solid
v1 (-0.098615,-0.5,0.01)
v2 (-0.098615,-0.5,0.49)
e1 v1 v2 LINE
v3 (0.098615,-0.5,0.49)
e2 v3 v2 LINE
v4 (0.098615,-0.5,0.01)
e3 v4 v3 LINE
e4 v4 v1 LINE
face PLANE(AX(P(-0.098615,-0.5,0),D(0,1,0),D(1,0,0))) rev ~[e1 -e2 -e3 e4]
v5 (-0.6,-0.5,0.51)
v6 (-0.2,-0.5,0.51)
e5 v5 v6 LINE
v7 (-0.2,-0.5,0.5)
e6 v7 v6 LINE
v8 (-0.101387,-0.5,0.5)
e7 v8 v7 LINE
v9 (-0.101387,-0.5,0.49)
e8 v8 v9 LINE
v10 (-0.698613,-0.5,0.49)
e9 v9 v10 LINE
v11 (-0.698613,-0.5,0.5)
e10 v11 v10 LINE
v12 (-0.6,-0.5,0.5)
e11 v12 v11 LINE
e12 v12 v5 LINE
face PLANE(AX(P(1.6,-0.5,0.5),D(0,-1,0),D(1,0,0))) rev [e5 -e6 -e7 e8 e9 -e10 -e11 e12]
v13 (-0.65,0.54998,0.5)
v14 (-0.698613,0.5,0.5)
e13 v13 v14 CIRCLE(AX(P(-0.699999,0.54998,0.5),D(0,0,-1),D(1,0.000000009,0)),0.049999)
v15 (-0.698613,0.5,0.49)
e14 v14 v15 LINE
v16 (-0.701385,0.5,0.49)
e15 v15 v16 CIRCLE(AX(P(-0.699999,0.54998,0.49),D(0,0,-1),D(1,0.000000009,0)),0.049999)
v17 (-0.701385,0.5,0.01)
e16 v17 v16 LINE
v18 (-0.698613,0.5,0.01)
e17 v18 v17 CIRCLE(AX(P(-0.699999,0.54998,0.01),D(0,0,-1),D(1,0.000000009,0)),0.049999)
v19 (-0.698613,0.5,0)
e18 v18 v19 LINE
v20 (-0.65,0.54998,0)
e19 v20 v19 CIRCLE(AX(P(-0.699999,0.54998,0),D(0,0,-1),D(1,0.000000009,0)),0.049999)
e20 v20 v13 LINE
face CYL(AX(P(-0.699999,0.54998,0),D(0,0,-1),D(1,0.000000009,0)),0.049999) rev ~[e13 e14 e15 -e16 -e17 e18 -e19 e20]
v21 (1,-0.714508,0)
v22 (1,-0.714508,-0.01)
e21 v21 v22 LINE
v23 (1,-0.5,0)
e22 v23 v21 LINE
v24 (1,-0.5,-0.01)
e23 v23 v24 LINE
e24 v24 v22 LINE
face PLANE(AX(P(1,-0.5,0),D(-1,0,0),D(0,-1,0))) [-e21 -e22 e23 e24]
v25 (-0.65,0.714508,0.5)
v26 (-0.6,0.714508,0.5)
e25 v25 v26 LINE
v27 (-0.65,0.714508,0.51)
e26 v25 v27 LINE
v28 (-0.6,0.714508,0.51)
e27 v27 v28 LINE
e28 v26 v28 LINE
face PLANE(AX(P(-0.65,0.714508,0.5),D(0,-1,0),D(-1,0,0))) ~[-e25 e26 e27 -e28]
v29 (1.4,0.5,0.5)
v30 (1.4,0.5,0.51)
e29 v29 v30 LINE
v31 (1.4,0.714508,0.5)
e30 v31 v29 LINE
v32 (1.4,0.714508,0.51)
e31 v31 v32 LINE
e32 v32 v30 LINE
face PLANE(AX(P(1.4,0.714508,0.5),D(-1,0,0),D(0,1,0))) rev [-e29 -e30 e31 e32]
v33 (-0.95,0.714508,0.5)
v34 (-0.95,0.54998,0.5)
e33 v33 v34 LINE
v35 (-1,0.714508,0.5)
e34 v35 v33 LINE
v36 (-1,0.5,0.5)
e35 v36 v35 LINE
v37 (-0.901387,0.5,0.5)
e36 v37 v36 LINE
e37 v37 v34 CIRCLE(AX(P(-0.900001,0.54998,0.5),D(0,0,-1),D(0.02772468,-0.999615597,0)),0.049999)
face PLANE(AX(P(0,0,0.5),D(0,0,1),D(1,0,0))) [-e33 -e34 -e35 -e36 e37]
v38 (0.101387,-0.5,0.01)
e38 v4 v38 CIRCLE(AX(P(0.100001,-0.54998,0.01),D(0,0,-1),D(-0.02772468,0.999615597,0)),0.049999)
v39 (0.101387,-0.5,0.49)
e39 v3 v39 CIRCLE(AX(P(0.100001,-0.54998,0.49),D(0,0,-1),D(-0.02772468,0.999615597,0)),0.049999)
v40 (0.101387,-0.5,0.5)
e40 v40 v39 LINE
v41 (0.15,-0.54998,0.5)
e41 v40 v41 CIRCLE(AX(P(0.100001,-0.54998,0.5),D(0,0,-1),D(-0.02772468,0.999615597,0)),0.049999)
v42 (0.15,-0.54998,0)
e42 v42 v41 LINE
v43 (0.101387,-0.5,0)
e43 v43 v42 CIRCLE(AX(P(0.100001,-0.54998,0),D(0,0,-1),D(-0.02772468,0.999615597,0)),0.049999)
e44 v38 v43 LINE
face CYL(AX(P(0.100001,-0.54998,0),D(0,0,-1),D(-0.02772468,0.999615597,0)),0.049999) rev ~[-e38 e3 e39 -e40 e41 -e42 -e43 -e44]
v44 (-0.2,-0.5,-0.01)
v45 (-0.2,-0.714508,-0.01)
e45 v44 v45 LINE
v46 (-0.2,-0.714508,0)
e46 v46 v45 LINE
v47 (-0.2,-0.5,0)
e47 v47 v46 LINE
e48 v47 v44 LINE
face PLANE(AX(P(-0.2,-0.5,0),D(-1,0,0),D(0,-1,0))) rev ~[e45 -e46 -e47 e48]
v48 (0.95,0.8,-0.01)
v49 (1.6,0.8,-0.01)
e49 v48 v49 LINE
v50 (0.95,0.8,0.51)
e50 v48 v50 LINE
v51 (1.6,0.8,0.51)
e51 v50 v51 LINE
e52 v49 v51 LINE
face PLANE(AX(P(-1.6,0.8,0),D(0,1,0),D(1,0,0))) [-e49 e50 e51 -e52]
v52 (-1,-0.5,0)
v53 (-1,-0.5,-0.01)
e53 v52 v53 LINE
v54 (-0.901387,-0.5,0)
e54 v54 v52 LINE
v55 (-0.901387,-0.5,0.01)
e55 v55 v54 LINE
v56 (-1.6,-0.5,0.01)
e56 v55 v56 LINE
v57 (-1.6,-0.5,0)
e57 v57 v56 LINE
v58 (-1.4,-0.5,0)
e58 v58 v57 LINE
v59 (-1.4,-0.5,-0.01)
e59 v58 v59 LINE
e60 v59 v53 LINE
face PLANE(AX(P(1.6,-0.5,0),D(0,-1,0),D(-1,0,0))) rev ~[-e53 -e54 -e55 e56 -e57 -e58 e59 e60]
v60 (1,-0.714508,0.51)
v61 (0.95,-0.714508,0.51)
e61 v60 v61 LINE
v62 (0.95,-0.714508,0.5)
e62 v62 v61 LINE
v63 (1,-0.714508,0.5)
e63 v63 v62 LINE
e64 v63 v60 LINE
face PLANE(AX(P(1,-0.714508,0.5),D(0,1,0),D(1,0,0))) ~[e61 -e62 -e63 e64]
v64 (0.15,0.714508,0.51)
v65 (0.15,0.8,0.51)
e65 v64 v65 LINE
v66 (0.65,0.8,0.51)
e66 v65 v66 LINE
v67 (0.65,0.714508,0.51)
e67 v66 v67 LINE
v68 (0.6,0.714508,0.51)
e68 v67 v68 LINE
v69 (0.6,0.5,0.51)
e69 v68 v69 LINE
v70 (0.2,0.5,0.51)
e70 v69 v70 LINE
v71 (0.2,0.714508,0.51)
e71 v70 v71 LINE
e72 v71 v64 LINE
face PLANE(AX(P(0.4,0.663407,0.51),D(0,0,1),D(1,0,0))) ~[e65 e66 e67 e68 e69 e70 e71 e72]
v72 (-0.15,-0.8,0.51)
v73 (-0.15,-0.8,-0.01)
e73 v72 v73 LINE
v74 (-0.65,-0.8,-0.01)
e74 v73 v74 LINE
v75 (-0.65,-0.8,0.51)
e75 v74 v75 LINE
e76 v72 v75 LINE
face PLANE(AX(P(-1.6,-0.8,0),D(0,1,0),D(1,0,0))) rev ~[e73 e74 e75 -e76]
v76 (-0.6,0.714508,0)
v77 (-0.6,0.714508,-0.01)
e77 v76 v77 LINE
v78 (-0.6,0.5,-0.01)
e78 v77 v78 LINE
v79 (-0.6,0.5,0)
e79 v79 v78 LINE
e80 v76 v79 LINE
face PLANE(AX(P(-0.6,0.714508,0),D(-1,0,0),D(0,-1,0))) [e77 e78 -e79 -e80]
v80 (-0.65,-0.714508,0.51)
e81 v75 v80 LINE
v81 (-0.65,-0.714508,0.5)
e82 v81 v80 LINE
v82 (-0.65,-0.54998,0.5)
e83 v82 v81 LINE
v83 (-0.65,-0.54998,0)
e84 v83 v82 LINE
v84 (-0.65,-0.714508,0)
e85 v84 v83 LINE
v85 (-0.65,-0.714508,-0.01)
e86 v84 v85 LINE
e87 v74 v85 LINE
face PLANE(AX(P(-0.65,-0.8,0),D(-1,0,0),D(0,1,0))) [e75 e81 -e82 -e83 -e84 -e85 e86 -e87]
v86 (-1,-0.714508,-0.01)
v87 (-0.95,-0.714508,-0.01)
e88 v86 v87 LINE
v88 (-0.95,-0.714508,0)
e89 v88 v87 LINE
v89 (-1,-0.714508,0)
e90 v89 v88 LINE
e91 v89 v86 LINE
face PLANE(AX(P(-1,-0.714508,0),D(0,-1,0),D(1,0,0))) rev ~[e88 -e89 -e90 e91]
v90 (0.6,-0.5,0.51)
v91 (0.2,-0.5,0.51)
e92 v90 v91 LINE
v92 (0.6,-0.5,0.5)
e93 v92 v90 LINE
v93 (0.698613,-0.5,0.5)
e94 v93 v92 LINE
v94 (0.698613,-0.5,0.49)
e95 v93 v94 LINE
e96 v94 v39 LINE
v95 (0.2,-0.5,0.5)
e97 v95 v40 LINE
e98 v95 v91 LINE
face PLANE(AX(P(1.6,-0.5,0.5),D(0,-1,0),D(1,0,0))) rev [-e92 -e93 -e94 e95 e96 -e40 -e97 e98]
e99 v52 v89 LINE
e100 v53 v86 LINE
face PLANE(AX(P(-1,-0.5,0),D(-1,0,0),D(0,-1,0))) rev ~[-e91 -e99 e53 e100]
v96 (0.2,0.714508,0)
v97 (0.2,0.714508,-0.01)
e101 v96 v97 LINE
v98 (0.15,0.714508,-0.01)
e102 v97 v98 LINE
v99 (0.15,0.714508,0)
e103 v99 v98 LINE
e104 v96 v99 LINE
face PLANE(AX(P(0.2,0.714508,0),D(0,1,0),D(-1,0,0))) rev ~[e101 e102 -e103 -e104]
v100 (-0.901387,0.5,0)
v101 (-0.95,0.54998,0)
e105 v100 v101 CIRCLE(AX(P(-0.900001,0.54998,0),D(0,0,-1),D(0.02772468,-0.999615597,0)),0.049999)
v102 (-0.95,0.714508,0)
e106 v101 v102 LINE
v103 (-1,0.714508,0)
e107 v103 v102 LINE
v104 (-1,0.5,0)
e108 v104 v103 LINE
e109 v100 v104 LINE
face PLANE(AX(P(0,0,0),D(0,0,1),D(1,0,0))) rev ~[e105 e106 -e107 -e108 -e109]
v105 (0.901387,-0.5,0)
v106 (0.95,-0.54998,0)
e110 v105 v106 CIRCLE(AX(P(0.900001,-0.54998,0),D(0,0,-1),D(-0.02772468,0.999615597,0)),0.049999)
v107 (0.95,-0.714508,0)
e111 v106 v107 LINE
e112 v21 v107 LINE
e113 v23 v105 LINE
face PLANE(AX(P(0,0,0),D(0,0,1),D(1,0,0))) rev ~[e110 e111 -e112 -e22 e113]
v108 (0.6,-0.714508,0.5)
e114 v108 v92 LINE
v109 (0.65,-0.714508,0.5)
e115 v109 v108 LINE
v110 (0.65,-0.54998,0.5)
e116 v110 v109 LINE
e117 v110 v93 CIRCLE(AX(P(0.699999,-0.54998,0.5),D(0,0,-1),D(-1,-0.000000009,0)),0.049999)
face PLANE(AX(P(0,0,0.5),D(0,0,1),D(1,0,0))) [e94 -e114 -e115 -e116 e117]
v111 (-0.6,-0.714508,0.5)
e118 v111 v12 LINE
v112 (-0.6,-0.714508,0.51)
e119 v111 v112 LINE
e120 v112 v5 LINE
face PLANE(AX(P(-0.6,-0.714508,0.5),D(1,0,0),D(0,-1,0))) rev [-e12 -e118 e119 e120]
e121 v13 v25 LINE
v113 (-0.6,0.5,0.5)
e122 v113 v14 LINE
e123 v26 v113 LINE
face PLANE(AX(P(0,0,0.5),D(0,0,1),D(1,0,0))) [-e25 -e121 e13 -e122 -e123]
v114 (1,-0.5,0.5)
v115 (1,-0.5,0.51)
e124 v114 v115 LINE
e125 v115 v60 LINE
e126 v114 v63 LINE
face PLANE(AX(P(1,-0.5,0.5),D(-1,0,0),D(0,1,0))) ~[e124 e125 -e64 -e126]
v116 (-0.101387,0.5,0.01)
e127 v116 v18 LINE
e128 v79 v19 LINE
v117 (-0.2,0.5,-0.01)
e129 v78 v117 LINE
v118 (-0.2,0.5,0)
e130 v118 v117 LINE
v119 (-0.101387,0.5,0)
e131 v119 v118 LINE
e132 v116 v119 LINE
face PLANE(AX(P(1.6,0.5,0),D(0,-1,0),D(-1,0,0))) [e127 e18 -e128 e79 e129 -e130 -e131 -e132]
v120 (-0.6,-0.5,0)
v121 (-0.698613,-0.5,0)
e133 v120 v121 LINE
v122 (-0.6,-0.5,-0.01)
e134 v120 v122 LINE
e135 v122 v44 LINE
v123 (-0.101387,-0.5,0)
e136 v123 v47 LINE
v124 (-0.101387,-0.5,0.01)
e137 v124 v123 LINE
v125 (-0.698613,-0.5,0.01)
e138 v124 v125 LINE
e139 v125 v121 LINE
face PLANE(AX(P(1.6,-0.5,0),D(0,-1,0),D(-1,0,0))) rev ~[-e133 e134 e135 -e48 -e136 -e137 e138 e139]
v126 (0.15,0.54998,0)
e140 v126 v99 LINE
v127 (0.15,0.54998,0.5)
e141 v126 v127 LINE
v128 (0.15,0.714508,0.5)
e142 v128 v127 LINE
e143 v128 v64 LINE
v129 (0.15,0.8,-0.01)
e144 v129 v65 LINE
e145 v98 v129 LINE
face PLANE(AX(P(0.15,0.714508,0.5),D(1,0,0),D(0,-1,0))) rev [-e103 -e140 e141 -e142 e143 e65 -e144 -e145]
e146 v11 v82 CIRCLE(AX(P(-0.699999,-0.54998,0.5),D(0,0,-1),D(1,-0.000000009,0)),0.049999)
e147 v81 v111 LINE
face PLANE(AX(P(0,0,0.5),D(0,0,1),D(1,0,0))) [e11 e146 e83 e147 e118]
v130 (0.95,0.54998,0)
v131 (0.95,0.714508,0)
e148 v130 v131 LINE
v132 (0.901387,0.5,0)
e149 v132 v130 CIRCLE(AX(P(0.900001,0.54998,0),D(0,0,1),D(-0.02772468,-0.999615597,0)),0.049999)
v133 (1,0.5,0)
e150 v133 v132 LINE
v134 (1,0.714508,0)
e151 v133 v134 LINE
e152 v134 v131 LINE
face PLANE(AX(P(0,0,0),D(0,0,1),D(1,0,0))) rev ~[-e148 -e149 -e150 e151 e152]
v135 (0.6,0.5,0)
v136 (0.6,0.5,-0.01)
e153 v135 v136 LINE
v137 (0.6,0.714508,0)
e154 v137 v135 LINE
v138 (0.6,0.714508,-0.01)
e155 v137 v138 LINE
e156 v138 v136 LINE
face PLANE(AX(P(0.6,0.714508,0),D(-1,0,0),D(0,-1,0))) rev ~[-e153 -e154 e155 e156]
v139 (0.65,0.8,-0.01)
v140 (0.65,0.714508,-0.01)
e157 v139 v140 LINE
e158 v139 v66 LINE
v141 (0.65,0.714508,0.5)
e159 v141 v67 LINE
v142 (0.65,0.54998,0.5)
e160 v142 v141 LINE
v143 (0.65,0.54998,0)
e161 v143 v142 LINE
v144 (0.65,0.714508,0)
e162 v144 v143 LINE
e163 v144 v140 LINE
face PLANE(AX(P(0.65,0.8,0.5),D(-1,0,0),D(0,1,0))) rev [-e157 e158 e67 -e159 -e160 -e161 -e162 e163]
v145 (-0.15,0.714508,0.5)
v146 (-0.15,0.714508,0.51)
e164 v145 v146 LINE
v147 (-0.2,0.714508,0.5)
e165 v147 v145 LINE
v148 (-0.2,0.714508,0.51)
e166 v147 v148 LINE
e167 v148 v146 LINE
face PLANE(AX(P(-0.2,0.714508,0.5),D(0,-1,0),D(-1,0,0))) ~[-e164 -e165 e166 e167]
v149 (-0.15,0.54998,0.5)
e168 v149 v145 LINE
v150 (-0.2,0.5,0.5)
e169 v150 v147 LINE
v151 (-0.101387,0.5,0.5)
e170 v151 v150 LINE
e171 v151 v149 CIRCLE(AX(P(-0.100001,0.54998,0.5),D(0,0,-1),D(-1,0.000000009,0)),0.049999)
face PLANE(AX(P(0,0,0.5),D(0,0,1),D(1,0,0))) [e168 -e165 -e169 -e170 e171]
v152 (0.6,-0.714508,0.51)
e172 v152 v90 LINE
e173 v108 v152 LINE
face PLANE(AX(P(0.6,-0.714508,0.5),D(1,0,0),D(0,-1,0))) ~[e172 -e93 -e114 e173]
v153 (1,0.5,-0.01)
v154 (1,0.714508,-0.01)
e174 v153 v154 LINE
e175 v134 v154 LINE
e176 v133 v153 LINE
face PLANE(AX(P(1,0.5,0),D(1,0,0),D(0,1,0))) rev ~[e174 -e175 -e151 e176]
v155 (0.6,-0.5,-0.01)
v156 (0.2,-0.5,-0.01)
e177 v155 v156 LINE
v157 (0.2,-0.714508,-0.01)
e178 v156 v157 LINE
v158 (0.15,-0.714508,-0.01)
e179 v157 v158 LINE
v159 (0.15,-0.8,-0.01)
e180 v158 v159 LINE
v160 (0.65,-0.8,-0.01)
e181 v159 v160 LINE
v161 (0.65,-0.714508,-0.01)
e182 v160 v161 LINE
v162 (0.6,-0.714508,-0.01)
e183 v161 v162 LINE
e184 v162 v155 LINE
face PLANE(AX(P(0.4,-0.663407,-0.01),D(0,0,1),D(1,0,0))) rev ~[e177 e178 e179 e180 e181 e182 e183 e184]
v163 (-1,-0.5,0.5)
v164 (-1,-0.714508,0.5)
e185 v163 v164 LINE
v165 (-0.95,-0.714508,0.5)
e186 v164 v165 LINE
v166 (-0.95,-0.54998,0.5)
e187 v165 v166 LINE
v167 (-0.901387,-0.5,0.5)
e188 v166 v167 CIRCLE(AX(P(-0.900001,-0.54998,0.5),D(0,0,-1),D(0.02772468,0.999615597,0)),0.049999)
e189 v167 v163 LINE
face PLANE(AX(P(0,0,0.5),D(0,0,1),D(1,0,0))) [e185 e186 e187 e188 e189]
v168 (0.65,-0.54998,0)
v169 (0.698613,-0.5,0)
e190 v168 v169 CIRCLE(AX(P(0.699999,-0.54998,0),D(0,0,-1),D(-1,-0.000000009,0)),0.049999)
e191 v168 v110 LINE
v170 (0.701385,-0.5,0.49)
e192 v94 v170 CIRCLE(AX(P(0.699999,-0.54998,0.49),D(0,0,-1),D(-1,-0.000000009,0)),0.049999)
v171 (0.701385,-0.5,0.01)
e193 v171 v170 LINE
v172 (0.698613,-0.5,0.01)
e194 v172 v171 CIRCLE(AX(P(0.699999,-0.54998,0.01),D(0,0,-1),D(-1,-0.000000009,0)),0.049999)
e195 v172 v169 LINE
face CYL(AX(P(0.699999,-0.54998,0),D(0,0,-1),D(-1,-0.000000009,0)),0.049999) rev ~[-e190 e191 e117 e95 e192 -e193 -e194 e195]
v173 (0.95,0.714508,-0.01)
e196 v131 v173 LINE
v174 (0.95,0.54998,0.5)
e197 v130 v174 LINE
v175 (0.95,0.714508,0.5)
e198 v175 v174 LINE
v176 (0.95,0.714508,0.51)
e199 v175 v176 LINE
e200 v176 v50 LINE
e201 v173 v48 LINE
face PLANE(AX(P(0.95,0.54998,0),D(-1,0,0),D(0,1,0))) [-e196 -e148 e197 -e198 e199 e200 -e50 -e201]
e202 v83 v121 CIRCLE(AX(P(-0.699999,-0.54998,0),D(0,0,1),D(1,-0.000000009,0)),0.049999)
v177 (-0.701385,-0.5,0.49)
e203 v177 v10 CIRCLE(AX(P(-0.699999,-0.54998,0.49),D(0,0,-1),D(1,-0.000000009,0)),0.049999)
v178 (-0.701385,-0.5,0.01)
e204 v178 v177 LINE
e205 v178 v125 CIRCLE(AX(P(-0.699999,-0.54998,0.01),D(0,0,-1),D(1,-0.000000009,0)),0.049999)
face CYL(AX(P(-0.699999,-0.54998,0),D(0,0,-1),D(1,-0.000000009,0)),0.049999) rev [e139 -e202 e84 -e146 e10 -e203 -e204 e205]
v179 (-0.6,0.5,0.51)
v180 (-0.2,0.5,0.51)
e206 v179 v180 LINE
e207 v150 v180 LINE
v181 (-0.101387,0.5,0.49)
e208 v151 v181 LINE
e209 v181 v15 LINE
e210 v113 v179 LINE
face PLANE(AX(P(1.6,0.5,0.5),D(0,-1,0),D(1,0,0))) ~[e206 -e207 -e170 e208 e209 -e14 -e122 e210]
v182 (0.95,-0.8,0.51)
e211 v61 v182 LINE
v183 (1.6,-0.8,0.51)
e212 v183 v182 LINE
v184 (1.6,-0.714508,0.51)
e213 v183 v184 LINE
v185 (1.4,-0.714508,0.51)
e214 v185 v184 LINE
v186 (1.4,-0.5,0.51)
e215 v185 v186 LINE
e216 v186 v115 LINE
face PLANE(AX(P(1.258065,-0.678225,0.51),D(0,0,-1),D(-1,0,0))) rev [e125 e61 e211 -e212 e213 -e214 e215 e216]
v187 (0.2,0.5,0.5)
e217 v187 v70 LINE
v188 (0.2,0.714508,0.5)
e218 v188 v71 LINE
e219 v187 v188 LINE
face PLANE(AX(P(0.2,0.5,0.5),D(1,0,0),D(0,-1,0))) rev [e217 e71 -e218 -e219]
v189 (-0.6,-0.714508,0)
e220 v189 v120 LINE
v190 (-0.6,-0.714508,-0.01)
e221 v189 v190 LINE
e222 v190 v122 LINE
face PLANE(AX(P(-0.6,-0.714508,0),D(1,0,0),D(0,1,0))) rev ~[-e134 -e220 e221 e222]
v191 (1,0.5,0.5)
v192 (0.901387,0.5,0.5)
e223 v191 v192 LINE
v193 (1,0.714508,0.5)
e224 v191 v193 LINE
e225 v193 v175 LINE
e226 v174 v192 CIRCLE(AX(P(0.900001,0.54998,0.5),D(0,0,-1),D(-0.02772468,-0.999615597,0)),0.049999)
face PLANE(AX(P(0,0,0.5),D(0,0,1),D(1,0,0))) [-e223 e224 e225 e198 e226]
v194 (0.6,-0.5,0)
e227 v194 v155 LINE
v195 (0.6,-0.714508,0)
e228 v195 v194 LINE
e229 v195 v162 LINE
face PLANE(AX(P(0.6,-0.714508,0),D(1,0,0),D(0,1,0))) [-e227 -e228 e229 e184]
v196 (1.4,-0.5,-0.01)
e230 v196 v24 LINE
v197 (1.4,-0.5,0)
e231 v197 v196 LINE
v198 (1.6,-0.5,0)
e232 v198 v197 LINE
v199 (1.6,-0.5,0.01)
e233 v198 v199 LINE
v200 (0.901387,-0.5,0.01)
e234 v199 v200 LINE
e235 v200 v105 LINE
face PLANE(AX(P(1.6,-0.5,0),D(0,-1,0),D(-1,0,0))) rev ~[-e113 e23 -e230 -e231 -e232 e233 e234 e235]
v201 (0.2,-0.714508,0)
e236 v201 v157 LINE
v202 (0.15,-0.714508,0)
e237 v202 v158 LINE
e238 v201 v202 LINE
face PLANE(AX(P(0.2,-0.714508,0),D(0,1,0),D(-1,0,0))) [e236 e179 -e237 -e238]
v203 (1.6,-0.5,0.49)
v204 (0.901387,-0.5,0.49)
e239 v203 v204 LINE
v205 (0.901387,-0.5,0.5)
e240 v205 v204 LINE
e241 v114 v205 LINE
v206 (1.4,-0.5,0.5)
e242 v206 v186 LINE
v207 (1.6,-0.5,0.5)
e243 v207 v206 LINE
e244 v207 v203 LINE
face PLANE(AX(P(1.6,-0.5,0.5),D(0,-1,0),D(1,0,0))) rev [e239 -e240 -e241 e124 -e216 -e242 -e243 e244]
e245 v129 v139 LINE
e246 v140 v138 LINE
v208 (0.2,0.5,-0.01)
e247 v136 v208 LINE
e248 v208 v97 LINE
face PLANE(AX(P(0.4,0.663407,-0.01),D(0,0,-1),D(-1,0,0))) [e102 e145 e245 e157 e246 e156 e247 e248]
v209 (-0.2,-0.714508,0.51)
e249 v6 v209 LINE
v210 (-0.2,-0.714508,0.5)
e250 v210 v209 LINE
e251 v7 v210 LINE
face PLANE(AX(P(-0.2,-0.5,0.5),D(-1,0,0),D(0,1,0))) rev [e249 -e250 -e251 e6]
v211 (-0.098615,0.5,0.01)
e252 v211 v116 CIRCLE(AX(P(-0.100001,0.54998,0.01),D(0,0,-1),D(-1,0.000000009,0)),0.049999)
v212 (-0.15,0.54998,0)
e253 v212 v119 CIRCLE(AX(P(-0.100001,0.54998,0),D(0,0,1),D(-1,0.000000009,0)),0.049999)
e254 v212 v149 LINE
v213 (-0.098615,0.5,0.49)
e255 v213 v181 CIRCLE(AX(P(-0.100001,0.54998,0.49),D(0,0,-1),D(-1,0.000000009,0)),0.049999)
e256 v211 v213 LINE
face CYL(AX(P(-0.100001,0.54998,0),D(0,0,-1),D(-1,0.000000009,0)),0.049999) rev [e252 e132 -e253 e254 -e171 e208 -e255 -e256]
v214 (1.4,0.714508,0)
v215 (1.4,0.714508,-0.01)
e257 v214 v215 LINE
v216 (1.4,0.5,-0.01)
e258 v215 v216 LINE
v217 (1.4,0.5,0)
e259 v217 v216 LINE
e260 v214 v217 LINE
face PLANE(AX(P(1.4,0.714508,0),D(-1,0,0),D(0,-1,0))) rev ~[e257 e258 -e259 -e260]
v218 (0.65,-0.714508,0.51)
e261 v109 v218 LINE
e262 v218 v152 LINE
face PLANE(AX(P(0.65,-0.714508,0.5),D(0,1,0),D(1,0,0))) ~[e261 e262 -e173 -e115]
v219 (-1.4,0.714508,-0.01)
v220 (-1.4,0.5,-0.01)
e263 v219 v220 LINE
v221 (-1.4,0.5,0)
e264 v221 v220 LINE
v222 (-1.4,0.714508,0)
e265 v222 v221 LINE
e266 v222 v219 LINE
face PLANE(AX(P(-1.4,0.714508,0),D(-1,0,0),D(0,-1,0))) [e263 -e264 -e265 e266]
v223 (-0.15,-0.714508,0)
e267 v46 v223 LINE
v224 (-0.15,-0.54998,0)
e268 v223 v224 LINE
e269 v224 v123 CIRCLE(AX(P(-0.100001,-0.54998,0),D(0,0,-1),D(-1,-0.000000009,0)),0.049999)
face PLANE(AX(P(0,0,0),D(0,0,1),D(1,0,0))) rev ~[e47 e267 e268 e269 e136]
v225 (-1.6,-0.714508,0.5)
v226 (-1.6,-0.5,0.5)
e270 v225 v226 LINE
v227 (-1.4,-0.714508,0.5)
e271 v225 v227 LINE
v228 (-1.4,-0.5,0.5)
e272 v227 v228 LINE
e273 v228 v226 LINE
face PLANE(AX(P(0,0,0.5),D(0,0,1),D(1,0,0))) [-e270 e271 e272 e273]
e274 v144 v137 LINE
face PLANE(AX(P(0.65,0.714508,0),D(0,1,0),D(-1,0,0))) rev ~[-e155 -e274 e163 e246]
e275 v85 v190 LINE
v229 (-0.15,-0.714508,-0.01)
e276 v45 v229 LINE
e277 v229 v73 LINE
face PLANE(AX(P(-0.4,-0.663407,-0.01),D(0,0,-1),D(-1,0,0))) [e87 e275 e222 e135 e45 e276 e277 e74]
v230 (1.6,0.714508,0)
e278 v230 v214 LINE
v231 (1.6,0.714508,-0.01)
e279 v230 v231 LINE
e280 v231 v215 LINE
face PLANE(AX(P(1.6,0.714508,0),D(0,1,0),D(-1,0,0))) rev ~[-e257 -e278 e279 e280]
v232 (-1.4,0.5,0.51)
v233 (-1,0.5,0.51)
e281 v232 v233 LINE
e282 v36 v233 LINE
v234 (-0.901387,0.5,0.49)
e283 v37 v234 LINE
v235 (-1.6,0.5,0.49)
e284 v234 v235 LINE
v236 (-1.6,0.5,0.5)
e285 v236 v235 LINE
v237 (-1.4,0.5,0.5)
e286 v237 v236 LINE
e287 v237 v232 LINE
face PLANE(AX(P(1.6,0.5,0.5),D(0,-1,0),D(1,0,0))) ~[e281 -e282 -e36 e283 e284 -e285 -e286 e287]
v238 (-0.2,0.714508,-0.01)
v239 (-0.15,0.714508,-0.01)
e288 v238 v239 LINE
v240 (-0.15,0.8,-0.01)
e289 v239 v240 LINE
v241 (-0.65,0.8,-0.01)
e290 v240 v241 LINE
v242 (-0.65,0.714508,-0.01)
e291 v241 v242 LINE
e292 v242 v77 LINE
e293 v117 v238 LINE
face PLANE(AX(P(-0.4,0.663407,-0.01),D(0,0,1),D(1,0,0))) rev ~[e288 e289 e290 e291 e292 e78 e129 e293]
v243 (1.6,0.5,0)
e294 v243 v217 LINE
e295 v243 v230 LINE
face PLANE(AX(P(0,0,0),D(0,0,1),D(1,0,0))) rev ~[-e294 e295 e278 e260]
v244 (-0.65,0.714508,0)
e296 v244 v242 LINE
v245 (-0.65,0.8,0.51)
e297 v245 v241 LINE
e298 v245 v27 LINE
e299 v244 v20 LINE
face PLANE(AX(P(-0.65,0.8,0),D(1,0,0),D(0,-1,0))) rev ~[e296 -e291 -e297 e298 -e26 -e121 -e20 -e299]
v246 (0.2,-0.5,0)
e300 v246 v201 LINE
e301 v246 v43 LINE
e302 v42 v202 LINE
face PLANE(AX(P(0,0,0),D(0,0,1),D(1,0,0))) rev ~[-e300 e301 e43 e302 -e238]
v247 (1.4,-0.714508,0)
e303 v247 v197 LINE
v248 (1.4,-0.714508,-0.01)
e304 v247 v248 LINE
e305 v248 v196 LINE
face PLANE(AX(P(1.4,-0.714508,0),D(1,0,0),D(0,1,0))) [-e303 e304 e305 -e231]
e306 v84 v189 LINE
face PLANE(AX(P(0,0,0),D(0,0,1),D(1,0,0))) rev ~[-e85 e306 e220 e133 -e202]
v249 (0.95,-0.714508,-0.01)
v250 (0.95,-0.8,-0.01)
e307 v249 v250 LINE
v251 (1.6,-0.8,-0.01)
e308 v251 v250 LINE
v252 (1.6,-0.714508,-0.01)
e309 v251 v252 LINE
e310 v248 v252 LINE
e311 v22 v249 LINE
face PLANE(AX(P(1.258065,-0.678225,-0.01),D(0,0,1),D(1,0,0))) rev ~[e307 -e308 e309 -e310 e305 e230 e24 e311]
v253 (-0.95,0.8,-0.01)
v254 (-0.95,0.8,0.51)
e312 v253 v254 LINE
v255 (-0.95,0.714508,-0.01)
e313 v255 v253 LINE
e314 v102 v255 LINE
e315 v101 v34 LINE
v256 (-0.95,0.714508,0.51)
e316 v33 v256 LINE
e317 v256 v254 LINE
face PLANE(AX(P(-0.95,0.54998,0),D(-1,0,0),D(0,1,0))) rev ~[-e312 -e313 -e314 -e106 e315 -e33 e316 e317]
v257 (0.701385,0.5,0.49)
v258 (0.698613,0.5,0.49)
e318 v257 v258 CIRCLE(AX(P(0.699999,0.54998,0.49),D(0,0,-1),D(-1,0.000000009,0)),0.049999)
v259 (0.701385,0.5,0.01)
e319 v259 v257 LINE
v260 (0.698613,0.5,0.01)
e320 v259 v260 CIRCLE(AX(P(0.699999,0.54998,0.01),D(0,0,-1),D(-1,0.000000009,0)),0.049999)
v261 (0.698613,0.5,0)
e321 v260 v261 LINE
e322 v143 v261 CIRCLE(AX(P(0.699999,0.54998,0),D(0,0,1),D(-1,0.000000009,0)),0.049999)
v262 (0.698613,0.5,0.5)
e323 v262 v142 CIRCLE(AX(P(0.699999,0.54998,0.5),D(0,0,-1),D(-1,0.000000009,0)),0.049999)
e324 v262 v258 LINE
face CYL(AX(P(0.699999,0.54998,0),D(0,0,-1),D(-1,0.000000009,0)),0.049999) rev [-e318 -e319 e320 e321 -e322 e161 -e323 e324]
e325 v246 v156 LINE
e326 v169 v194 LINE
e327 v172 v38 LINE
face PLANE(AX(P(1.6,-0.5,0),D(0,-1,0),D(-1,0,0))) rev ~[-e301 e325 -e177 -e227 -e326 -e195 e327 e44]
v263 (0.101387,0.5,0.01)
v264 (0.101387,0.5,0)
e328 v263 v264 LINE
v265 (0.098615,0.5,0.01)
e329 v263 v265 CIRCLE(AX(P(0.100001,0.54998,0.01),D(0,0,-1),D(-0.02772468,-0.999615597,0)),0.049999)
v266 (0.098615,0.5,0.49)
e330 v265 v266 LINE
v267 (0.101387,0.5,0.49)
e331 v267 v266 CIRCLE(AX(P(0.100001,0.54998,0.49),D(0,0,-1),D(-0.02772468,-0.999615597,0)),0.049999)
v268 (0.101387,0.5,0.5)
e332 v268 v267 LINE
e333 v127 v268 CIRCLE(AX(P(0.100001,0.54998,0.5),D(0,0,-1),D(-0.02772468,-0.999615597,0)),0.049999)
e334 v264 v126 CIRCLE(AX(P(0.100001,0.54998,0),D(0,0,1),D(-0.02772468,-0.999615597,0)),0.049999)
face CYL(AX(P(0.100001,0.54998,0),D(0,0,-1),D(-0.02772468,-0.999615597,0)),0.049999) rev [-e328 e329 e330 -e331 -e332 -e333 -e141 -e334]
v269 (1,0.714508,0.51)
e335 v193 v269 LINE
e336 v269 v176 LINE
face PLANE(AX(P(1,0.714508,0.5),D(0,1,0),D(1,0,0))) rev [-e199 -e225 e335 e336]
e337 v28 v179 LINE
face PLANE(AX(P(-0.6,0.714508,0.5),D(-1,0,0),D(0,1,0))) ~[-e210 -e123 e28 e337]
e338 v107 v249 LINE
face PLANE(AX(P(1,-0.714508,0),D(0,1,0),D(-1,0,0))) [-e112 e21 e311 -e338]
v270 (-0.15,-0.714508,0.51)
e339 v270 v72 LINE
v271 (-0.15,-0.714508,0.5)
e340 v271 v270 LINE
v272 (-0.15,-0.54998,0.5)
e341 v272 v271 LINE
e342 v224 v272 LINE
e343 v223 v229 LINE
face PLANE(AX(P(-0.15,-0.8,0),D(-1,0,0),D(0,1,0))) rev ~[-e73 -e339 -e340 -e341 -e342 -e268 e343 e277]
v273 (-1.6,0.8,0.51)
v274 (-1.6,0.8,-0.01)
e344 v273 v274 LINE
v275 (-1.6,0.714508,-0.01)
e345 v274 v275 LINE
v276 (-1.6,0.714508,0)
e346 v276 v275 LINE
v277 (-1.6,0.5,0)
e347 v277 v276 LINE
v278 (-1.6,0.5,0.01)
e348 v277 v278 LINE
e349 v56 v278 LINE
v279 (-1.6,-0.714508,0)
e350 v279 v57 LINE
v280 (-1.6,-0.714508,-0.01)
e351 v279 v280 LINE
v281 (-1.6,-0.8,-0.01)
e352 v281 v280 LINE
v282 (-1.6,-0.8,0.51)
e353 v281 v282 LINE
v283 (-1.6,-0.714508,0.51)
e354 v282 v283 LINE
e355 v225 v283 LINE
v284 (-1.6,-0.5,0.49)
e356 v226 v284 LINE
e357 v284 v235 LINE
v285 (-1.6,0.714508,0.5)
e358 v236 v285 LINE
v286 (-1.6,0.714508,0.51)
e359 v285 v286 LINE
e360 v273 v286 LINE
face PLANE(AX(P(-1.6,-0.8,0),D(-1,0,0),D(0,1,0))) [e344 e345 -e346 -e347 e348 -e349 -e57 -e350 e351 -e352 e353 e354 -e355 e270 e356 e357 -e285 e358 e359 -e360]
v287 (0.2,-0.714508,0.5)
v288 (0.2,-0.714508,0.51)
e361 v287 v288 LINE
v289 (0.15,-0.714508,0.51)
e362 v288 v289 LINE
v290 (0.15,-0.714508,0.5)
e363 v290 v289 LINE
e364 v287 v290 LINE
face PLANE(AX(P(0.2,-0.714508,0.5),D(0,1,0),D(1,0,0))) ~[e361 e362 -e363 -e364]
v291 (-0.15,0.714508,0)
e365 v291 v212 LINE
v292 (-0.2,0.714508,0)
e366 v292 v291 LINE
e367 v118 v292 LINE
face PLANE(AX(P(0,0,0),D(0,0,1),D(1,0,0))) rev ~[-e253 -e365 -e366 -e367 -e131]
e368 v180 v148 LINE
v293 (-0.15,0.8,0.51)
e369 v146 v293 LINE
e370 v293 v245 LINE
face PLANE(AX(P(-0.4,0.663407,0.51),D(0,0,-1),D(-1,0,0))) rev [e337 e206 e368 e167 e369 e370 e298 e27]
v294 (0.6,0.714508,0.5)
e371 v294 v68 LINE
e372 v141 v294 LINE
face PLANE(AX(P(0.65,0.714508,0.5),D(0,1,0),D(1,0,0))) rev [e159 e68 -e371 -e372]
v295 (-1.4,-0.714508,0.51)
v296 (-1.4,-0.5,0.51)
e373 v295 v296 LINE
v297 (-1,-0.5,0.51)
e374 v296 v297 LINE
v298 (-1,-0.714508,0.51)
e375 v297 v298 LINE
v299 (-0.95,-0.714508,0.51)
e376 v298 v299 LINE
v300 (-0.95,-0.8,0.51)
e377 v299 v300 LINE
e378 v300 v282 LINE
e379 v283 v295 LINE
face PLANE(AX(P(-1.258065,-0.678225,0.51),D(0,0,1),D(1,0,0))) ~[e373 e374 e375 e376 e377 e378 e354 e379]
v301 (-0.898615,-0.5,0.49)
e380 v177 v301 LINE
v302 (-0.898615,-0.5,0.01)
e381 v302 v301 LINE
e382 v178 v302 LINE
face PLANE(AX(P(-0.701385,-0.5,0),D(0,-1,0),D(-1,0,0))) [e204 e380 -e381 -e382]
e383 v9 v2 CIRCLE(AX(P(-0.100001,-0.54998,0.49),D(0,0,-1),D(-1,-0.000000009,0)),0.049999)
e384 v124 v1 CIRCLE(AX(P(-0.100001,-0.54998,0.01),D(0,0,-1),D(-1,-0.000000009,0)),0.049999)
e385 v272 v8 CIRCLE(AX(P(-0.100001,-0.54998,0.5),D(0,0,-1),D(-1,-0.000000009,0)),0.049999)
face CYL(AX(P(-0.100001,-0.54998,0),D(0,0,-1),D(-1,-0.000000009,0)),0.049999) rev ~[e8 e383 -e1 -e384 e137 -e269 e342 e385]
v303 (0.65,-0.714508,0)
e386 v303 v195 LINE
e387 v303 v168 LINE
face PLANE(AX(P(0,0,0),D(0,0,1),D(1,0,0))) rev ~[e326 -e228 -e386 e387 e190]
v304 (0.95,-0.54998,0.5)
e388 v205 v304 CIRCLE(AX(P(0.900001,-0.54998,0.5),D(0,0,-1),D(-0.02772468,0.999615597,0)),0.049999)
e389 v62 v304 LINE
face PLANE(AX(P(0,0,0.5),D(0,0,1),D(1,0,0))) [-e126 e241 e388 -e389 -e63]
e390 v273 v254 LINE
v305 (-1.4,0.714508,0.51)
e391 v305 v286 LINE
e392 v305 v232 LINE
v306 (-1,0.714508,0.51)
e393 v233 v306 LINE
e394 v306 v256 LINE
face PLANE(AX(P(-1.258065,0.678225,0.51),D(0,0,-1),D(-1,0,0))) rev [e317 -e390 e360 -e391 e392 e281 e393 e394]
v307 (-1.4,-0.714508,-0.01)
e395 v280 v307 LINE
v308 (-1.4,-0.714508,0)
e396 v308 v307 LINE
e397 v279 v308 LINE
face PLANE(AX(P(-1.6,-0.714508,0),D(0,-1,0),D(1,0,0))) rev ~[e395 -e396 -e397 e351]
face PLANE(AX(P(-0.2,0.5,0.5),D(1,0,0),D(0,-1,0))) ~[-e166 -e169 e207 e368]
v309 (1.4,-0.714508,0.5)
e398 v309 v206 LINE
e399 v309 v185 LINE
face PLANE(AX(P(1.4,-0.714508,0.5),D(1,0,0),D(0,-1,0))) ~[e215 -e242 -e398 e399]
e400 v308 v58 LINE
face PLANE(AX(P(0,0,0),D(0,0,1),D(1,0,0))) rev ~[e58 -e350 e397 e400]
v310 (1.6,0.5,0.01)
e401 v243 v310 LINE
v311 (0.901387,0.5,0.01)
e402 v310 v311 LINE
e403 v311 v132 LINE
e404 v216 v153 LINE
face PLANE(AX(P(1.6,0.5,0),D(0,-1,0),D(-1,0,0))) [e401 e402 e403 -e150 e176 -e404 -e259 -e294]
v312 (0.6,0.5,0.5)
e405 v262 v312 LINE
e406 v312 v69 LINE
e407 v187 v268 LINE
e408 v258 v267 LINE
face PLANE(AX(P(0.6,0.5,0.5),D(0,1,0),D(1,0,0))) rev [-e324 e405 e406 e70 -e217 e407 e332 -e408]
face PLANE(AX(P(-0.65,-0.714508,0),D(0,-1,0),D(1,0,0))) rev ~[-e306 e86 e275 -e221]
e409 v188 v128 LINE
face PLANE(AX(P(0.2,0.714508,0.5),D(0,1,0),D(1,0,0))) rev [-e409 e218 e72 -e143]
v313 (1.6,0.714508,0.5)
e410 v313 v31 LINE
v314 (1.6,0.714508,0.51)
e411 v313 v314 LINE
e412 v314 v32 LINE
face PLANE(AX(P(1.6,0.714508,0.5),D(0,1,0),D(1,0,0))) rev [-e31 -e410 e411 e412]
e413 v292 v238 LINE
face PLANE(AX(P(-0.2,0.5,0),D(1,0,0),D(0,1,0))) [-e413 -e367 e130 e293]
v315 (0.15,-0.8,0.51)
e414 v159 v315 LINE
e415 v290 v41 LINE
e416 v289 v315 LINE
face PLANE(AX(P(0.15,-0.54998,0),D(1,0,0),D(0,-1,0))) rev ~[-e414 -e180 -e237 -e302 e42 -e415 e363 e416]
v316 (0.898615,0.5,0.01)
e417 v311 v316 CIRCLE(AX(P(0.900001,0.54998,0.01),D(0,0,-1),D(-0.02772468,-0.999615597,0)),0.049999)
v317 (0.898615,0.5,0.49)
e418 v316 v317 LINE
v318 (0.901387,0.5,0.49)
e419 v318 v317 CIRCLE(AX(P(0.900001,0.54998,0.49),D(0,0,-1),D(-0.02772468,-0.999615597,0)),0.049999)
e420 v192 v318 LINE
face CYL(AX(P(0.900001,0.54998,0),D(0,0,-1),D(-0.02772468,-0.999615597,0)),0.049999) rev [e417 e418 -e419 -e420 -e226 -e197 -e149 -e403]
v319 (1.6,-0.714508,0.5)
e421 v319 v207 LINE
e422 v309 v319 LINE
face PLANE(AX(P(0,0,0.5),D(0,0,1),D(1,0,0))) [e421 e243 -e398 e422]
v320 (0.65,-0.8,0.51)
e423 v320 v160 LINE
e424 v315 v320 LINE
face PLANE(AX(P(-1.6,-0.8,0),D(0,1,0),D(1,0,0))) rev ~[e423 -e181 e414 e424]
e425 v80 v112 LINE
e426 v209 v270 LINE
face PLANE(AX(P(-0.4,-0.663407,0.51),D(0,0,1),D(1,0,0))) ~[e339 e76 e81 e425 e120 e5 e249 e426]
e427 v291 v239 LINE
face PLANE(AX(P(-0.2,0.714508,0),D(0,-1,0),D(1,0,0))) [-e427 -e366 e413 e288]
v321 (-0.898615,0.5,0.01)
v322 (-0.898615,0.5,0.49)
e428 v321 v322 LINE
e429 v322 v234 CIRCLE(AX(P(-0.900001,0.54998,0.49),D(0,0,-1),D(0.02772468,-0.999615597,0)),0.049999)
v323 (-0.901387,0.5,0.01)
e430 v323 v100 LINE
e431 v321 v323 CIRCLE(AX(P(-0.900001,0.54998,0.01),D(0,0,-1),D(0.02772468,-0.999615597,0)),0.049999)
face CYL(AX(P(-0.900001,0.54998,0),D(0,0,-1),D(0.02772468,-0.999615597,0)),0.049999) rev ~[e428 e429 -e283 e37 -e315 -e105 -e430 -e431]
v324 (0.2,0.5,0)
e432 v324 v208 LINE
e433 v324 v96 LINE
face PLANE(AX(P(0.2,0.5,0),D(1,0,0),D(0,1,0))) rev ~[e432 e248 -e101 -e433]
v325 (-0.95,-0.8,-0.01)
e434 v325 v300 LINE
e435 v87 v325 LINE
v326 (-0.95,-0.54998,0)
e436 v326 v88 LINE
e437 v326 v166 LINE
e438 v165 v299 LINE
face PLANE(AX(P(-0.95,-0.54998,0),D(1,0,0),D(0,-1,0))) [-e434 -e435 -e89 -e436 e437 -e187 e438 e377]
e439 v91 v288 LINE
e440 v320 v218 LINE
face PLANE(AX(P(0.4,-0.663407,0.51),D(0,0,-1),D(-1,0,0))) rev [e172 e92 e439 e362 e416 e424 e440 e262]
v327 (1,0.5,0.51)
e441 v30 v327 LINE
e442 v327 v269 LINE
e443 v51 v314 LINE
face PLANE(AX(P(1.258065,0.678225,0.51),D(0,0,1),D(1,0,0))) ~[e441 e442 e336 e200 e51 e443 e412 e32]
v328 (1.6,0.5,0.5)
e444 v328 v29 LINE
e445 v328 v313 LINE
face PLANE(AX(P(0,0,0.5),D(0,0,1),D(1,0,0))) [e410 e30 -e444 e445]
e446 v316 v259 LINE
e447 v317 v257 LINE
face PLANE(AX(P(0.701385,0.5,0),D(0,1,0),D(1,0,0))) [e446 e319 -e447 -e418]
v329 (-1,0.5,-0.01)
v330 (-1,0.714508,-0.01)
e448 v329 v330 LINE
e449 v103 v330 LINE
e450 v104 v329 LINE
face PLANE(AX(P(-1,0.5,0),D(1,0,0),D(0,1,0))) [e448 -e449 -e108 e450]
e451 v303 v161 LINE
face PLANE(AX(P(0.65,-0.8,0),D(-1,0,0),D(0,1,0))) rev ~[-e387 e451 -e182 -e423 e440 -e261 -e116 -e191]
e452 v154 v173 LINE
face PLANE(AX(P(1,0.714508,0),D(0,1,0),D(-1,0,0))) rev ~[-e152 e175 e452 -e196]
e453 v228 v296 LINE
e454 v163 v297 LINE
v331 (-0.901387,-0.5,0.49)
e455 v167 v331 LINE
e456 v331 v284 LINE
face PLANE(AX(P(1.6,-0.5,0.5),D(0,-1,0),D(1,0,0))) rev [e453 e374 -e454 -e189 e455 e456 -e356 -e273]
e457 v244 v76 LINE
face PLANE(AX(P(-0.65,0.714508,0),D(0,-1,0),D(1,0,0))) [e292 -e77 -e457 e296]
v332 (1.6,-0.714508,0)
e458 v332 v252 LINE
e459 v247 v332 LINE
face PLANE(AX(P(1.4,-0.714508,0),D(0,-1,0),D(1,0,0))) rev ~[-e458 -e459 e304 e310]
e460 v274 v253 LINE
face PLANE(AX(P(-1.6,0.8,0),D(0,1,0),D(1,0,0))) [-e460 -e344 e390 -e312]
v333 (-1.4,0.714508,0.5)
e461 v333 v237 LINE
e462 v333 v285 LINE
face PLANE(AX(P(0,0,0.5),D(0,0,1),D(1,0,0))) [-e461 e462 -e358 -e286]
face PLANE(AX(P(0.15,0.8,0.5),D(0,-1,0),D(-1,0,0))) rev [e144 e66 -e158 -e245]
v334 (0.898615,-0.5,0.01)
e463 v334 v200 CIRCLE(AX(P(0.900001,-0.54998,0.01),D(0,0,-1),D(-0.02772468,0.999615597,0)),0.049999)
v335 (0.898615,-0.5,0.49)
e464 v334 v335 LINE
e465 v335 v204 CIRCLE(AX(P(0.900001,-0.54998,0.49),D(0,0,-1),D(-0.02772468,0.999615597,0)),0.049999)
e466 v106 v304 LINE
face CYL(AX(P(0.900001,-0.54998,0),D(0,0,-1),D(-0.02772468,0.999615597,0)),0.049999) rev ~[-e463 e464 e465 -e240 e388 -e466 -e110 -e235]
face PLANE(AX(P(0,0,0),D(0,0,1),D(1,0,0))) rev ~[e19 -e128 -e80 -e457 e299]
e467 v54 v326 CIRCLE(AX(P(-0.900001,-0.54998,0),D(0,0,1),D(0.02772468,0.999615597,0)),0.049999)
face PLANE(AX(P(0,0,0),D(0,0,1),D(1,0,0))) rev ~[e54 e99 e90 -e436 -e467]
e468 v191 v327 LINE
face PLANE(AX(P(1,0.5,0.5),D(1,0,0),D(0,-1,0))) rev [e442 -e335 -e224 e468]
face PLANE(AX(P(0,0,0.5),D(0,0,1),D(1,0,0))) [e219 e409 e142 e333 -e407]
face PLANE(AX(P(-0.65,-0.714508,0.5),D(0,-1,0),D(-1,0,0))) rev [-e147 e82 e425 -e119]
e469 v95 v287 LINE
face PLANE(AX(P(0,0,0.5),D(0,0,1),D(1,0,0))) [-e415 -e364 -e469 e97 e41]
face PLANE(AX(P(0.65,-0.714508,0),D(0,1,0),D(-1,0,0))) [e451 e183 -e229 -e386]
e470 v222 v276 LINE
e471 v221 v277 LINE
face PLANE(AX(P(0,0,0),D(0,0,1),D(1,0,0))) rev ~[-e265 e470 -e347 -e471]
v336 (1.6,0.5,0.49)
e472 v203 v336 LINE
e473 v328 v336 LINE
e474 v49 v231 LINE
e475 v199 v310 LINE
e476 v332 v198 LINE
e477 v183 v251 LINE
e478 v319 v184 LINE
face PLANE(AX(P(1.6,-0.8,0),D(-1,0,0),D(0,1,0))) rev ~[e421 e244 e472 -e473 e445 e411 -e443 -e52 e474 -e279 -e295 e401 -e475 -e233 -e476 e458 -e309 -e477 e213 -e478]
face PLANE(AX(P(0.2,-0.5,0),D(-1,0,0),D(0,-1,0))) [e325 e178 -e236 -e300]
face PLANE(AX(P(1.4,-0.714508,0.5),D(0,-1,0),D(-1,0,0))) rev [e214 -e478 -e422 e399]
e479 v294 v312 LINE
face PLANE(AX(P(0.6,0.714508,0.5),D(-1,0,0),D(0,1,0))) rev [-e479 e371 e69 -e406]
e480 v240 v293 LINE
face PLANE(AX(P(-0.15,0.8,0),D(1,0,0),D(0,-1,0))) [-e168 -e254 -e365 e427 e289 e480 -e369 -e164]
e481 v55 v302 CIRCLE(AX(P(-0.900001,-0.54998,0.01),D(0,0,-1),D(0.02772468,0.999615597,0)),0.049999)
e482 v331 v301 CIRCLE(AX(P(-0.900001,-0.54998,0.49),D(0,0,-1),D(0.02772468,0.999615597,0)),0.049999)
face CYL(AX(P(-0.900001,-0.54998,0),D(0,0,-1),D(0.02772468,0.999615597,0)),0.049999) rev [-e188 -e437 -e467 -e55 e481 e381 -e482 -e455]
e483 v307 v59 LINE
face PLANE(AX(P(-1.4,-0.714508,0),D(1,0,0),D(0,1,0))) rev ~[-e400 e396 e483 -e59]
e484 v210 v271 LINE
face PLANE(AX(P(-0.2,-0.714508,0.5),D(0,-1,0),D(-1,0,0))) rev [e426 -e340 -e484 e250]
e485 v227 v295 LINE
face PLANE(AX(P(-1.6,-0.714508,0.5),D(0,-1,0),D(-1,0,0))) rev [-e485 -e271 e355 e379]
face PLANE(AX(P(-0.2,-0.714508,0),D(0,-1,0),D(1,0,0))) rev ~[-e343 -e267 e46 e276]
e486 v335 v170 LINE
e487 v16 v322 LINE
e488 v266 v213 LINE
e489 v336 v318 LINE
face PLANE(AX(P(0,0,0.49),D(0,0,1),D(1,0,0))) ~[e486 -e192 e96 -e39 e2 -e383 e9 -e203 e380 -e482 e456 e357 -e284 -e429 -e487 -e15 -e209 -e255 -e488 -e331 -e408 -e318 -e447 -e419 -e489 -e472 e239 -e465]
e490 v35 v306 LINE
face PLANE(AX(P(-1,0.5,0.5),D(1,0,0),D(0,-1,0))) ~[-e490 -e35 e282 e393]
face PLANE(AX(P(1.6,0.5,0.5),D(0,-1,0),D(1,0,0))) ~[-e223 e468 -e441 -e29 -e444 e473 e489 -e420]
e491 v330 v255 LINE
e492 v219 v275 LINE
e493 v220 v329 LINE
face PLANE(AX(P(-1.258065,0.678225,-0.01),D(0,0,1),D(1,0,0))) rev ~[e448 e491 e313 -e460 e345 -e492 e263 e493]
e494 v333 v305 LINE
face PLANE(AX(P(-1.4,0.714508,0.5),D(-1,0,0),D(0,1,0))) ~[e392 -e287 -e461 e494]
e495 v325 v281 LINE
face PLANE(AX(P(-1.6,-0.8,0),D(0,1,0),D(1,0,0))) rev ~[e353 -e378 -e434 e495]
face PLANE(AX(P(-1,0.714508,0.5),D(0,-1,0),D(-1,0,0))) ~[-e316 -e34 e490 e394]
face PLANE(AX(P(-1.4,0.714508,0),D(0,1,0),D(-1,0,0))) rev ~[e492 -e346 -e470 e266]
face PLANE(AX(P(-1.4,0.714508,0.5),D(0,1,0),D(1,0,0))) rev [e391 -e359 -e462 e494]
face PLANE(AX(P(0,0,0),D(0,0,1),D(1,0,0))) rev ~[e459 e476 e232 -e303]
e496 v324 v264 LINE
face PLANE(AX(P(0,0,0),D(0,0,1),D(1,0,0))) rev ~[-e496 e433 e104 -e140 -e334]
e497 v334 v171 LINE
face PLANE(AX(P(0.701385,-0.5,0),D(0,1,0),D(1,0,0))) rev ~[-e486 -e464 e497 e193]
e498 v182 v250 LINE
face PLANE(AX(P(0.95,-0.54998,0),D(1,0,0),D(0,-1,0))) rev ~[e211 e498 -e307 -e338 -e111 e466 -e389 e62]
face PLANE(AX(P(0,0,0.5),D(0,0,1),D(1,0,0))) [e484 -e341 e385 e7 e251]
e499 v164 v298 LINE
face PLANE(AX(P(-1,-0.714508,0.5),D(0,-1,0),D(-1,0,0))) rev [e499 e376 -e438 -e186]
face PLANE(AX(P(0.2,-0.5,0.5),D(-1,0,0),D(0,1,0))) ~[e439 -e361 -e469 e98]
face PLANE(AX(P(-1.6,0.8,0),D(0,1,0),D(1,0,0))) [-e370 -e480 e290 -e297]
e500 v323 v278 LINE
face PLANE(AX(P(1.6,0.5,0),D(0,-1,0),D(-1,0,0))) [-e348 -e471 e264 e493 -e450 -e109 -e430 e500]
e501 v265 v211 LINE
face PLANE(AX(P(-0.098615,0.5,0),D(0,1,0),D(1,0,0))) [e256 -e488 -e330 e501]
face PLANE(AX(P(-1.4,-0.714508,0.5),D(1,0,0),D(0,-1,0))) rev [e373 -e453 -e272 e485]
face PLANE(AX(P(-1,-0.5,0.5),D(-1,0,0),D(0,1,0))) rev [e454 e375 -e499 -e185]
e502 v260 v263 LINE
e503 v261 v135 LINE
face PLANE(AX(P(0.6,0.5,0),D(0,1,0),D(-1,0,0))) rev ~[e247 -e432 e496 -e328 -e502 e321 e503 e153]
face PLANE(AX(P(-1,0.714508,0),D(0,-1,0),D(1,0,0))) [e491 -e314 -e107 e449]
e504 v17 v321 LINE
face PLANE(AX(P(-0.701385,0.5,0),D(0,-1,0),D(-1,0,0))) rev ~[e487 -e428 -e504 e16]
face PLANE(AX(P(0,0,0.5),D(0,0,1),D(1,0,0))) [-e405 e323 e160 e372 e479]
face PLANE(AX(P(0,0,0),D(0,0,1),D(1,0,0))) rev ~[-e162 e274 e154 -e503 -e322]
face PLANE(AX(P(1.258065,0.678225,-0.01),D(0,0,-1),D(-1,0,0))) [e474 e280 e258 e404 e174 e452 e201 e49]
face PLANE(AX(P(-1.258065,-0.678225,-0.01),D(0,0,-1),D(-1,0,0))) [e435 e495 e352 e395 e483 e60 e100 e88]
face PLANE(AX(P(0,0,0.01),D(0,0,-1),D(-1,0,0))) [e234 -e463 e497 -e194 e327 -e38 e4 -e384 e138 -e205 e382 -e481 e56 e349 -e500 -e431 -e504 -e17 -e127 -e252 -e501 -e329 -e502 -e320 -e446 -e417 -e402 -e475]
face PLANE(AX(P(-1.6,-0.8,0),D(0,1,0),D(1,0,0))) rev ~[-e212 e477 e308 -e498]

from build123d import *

# Parameters (mm, degrees)
SKETCH1_W           = 3.2
SKETCH1_H           = 1.6
BOSS_EXTRUDE1_DEPTH = 0.5
CUT_EXTRUDE1_DEPTH  = 1.5
SKETCH3_W           = 3.2
SKETCH3_H           = 1
CUT_EXTRUDE2_DEPTH  = 0.01
BOSS_EXTRUDE2_DEPTH = 0.01


with BuildPart() as part:
    # Sketch1 → Boss-Extrude1 (new body)
    with BuildSketch(Plane.XY):
        Rectangle(SKETCH1_W, SKETCH1_H)
    extrude(amount=BOSS_EXTRUDE1_DEPTH)

    # Sketch2 → Cut-Extrude1 (cut, through all)
    with BuildSketch(Plane(origin=(0, 0, 0), x_dir=(-1, 0, 0), z_dir=(0, 0, -1))):
        with BuildLine():
            Line((-0.15, 0.8), (0.15, 0.8))
            Line((0.15, 0.8), (0.15, 0.549979938))
            ThreePointArc((0.15, 0.549979938), (0.134862042, 0.514138446), (0.098614632, 0.5))
            Line((0.098614632, 0.5), (-0.098614632, 0.5))
            ThreePointArc((-0.098614632, 0.5), (-0.134862042, 0.514138446), (-0.15, 0.549979938))
            Line((-0.15, 0.549979938), (-0.15, 0.8))
        make_face()
        with BuildLine():
            Line((-0.65, 0.8), (-0.65, 0.549979938))
            ThreePointArc((-0.65, 0.549979938), (-0.665137958, 0.514138446), (-0.701385368, 0.5))
            Line((-0.701385368, 0.5), (-0.898614632, 0.5))
            ThreePointArc((-0.898614632, 0.5), (-0.934862042, 0.514138446), (-0.95, 0.549979938))
            Line((-0.95, 0.549979938), (-0.95, 0.8))
            Line((-0.95, 0.8), (-0.65, 0.8))
        make_face()
        with BuildLine():
            Line((0.95, 0.8), (0.65, 0.8))
            Line((0.65, 0.8), (0.65, 0.549979938))
            ThreePointArc((0.65, 0.549979938), (0.665137958, 0.514138446), (0.701385368, 0.5))
            Line((0.701385368, 0.5), (0.898614632, 0.5))
            ThreePointArc((0.898614632, 0.5), (0.934862042, 0.514138446), (0.95, 0.549979938))
            Line((0.95, 0.549979938), (0.95, 0.8))
        make_face()
        with BuildLine():
            Line((0.65, -0.8), (0.65, -0.549979938))
            ThreePointArc((0.65, -0.549979938), (0.665137958, -0.514138446), (0.701385368, -0.5))
            Line((0.701385368, -0.5), (0.898614632, -0.5))
            ThreePointArc((0.898614632, -0.5), (0.934862042, -0.514138446), (0.95, -0.549979938))
            Line((0.95, -0.549979938), (0.95, -0.8))
            Line((0.95, -0.8), (0.65, -0.8))
        make_face()
        with BuildLine():
            Line((0.15, -0.8), (0.15, -0.549979938))
            ThreePointArc((0.15, -0.549979938), (0.134862042, -0.514138446), (0.098614632, -0.5))
            Line((0.098614632, -0.5), (-0.098614632, -0.5))
            ThreePointArc((-0.098614632, -0.5), (-0.134862042, -0.514138446), (-0.15, -0.549979938))
            Line((-0.15, -0.549979938), (-0.15, -0.8))
            Line((-0.15, -0.8), (0.15, -0.8))
        make_face()
        with BuildLine():
            Line((-0.95, -0.8), (-0.65, -0.8))
            Line((-0.65, -0.8), (-0.65, -0.549979938))
            ThreePointArc((-0.65, -0.549979938), (-0.665137958, -0.514138446), (-0.701385368, -0.5))
            Line((-0.701385368, -0.5), (-0.898614632, -0.5))
            ThreePointArc((-0.898614632, -0.5), (-0.934862042, -0.514138446), (-0.95, -0.549979938))
            Line((-0.95, -0.549979938), (-0.95, -0.8))
        make_face()
    extrude(amount=-CUT_EXTRUDE1_DEPTH, mode=Mode.SUBTRACT)

    # Sketch3 → Cut-Extrude2 (cut)
    with BuildSketch(Plane(origin=(0, 0, 0), x_dir=(-1, 0, 0), z_dir=(0, 0, -1))):
        Rectangle(SKETCH3_W, SKETCH3_H)
    cut_extrude2 = extrude(amount=-CUT_EXTRUDE2_DEPTH, mode=Mode.SUBTRACT)

    # Mirror1: Cut-Extrude2 across plane
    add(cut_extrude2.mirror(Plane(origin=(0, 0, 0.25), x_dir=(1, 0, 0), z_dir=(0, 0, -1))), mode=Mode.SUBTRACT)

    # Sketch4 → Boss-Extrude2 (add)
    with BuildSketch(Plane(origin=(0, 0, 0), x_dir=(-1, 0, 0), z_dir=(0, 0, -1))):
        Polygon((-0.65, 0.71450836), (-0.6, 0.71450836), (-0.6, 0.5), (-0.2, 0.5), (-0.2, 0.71450836), (-0.15, 0.71450836), (-0.15, 0.8), (-0.65, 0.8), align=None)
        Polygon((-1.45, 0.71450836), (-1.4, 0.71450836), (-1.4, 0.5), (-1, 0.5), (-1, 0.71450836), (-0.95, 0.71450836), (-0.95, 0.8), (-1.45, 0.8), (-1.6, 0.8), (-1.6, 0.71450836), align=None)
        Polygon((1.6, 0.8), (1.6, 0.71450836), (1.45, 0.71450836), (1.4, 0.71450836), (1.4, 0.5), (1, 0.5), (1, 0.71450836), (0.95, 0.71450836), (0.95, 0.8), (1.45, 0.8), align=None)
        Polygon((0.6, 0.5), (0.2, 0.5), (0.2, 0.71450836), (0.15, 0.71450836), (0.15, 0.8), (0.65, 0.8), (0.65, 0.71450836), (0.6, 0.71450836), align=None)
        Polygon((1.45, -0.71450836), (1.4, -0.71450836), (1.4, -0.5), (1, -0.5), (1, -0.71450836), (0.95, -0.71450836), (0.95, -0.8), (1.45, -0.8), (1.6, -0.8), (1.6, -0.71450836), align=None)
        Polygon((-1.6, -0.8), (-1.6, -0.71450836), (-1.45, -0.71450836), (-1.4, -0.71450836), (-1.4, -0.5), (-1, -0.5), (-1, -0.71450836), (-0.95, -0.71450836), (-0.95, -0.8), (-1.45, -0.8), align=None)
        Polygon((0.65, -0.71450836), (0.6, -0.71450836), (0.6, -0.5), (0.2, -0.5), (0.2, -0.71450836), (0.15, -0.71450836), (0.15, -0.8), (0.65, -0.8), align=None)
        Polygon((-0.6, -0.5), (-0.2, -0.5), (-0.2, -0.71450836), (-0.15, -0.71450836), (-0.15, -0.8), (-0.65, -0.8), (-0.65, -0.71450836), (-0.6, -0.71450836), align=None)
    boss_extrude2 = extrude(amount=BOSS_EXTRUDE2_DEPTH)

    # Mirror2: Boss-Extrude2 across plane
    add(boss_extrude2.mirror(Plane(origin=(0, 0, 0.25), x_dir=(1, 0, 0), z_dir=(0, 0, -1))))


solid = part.part
